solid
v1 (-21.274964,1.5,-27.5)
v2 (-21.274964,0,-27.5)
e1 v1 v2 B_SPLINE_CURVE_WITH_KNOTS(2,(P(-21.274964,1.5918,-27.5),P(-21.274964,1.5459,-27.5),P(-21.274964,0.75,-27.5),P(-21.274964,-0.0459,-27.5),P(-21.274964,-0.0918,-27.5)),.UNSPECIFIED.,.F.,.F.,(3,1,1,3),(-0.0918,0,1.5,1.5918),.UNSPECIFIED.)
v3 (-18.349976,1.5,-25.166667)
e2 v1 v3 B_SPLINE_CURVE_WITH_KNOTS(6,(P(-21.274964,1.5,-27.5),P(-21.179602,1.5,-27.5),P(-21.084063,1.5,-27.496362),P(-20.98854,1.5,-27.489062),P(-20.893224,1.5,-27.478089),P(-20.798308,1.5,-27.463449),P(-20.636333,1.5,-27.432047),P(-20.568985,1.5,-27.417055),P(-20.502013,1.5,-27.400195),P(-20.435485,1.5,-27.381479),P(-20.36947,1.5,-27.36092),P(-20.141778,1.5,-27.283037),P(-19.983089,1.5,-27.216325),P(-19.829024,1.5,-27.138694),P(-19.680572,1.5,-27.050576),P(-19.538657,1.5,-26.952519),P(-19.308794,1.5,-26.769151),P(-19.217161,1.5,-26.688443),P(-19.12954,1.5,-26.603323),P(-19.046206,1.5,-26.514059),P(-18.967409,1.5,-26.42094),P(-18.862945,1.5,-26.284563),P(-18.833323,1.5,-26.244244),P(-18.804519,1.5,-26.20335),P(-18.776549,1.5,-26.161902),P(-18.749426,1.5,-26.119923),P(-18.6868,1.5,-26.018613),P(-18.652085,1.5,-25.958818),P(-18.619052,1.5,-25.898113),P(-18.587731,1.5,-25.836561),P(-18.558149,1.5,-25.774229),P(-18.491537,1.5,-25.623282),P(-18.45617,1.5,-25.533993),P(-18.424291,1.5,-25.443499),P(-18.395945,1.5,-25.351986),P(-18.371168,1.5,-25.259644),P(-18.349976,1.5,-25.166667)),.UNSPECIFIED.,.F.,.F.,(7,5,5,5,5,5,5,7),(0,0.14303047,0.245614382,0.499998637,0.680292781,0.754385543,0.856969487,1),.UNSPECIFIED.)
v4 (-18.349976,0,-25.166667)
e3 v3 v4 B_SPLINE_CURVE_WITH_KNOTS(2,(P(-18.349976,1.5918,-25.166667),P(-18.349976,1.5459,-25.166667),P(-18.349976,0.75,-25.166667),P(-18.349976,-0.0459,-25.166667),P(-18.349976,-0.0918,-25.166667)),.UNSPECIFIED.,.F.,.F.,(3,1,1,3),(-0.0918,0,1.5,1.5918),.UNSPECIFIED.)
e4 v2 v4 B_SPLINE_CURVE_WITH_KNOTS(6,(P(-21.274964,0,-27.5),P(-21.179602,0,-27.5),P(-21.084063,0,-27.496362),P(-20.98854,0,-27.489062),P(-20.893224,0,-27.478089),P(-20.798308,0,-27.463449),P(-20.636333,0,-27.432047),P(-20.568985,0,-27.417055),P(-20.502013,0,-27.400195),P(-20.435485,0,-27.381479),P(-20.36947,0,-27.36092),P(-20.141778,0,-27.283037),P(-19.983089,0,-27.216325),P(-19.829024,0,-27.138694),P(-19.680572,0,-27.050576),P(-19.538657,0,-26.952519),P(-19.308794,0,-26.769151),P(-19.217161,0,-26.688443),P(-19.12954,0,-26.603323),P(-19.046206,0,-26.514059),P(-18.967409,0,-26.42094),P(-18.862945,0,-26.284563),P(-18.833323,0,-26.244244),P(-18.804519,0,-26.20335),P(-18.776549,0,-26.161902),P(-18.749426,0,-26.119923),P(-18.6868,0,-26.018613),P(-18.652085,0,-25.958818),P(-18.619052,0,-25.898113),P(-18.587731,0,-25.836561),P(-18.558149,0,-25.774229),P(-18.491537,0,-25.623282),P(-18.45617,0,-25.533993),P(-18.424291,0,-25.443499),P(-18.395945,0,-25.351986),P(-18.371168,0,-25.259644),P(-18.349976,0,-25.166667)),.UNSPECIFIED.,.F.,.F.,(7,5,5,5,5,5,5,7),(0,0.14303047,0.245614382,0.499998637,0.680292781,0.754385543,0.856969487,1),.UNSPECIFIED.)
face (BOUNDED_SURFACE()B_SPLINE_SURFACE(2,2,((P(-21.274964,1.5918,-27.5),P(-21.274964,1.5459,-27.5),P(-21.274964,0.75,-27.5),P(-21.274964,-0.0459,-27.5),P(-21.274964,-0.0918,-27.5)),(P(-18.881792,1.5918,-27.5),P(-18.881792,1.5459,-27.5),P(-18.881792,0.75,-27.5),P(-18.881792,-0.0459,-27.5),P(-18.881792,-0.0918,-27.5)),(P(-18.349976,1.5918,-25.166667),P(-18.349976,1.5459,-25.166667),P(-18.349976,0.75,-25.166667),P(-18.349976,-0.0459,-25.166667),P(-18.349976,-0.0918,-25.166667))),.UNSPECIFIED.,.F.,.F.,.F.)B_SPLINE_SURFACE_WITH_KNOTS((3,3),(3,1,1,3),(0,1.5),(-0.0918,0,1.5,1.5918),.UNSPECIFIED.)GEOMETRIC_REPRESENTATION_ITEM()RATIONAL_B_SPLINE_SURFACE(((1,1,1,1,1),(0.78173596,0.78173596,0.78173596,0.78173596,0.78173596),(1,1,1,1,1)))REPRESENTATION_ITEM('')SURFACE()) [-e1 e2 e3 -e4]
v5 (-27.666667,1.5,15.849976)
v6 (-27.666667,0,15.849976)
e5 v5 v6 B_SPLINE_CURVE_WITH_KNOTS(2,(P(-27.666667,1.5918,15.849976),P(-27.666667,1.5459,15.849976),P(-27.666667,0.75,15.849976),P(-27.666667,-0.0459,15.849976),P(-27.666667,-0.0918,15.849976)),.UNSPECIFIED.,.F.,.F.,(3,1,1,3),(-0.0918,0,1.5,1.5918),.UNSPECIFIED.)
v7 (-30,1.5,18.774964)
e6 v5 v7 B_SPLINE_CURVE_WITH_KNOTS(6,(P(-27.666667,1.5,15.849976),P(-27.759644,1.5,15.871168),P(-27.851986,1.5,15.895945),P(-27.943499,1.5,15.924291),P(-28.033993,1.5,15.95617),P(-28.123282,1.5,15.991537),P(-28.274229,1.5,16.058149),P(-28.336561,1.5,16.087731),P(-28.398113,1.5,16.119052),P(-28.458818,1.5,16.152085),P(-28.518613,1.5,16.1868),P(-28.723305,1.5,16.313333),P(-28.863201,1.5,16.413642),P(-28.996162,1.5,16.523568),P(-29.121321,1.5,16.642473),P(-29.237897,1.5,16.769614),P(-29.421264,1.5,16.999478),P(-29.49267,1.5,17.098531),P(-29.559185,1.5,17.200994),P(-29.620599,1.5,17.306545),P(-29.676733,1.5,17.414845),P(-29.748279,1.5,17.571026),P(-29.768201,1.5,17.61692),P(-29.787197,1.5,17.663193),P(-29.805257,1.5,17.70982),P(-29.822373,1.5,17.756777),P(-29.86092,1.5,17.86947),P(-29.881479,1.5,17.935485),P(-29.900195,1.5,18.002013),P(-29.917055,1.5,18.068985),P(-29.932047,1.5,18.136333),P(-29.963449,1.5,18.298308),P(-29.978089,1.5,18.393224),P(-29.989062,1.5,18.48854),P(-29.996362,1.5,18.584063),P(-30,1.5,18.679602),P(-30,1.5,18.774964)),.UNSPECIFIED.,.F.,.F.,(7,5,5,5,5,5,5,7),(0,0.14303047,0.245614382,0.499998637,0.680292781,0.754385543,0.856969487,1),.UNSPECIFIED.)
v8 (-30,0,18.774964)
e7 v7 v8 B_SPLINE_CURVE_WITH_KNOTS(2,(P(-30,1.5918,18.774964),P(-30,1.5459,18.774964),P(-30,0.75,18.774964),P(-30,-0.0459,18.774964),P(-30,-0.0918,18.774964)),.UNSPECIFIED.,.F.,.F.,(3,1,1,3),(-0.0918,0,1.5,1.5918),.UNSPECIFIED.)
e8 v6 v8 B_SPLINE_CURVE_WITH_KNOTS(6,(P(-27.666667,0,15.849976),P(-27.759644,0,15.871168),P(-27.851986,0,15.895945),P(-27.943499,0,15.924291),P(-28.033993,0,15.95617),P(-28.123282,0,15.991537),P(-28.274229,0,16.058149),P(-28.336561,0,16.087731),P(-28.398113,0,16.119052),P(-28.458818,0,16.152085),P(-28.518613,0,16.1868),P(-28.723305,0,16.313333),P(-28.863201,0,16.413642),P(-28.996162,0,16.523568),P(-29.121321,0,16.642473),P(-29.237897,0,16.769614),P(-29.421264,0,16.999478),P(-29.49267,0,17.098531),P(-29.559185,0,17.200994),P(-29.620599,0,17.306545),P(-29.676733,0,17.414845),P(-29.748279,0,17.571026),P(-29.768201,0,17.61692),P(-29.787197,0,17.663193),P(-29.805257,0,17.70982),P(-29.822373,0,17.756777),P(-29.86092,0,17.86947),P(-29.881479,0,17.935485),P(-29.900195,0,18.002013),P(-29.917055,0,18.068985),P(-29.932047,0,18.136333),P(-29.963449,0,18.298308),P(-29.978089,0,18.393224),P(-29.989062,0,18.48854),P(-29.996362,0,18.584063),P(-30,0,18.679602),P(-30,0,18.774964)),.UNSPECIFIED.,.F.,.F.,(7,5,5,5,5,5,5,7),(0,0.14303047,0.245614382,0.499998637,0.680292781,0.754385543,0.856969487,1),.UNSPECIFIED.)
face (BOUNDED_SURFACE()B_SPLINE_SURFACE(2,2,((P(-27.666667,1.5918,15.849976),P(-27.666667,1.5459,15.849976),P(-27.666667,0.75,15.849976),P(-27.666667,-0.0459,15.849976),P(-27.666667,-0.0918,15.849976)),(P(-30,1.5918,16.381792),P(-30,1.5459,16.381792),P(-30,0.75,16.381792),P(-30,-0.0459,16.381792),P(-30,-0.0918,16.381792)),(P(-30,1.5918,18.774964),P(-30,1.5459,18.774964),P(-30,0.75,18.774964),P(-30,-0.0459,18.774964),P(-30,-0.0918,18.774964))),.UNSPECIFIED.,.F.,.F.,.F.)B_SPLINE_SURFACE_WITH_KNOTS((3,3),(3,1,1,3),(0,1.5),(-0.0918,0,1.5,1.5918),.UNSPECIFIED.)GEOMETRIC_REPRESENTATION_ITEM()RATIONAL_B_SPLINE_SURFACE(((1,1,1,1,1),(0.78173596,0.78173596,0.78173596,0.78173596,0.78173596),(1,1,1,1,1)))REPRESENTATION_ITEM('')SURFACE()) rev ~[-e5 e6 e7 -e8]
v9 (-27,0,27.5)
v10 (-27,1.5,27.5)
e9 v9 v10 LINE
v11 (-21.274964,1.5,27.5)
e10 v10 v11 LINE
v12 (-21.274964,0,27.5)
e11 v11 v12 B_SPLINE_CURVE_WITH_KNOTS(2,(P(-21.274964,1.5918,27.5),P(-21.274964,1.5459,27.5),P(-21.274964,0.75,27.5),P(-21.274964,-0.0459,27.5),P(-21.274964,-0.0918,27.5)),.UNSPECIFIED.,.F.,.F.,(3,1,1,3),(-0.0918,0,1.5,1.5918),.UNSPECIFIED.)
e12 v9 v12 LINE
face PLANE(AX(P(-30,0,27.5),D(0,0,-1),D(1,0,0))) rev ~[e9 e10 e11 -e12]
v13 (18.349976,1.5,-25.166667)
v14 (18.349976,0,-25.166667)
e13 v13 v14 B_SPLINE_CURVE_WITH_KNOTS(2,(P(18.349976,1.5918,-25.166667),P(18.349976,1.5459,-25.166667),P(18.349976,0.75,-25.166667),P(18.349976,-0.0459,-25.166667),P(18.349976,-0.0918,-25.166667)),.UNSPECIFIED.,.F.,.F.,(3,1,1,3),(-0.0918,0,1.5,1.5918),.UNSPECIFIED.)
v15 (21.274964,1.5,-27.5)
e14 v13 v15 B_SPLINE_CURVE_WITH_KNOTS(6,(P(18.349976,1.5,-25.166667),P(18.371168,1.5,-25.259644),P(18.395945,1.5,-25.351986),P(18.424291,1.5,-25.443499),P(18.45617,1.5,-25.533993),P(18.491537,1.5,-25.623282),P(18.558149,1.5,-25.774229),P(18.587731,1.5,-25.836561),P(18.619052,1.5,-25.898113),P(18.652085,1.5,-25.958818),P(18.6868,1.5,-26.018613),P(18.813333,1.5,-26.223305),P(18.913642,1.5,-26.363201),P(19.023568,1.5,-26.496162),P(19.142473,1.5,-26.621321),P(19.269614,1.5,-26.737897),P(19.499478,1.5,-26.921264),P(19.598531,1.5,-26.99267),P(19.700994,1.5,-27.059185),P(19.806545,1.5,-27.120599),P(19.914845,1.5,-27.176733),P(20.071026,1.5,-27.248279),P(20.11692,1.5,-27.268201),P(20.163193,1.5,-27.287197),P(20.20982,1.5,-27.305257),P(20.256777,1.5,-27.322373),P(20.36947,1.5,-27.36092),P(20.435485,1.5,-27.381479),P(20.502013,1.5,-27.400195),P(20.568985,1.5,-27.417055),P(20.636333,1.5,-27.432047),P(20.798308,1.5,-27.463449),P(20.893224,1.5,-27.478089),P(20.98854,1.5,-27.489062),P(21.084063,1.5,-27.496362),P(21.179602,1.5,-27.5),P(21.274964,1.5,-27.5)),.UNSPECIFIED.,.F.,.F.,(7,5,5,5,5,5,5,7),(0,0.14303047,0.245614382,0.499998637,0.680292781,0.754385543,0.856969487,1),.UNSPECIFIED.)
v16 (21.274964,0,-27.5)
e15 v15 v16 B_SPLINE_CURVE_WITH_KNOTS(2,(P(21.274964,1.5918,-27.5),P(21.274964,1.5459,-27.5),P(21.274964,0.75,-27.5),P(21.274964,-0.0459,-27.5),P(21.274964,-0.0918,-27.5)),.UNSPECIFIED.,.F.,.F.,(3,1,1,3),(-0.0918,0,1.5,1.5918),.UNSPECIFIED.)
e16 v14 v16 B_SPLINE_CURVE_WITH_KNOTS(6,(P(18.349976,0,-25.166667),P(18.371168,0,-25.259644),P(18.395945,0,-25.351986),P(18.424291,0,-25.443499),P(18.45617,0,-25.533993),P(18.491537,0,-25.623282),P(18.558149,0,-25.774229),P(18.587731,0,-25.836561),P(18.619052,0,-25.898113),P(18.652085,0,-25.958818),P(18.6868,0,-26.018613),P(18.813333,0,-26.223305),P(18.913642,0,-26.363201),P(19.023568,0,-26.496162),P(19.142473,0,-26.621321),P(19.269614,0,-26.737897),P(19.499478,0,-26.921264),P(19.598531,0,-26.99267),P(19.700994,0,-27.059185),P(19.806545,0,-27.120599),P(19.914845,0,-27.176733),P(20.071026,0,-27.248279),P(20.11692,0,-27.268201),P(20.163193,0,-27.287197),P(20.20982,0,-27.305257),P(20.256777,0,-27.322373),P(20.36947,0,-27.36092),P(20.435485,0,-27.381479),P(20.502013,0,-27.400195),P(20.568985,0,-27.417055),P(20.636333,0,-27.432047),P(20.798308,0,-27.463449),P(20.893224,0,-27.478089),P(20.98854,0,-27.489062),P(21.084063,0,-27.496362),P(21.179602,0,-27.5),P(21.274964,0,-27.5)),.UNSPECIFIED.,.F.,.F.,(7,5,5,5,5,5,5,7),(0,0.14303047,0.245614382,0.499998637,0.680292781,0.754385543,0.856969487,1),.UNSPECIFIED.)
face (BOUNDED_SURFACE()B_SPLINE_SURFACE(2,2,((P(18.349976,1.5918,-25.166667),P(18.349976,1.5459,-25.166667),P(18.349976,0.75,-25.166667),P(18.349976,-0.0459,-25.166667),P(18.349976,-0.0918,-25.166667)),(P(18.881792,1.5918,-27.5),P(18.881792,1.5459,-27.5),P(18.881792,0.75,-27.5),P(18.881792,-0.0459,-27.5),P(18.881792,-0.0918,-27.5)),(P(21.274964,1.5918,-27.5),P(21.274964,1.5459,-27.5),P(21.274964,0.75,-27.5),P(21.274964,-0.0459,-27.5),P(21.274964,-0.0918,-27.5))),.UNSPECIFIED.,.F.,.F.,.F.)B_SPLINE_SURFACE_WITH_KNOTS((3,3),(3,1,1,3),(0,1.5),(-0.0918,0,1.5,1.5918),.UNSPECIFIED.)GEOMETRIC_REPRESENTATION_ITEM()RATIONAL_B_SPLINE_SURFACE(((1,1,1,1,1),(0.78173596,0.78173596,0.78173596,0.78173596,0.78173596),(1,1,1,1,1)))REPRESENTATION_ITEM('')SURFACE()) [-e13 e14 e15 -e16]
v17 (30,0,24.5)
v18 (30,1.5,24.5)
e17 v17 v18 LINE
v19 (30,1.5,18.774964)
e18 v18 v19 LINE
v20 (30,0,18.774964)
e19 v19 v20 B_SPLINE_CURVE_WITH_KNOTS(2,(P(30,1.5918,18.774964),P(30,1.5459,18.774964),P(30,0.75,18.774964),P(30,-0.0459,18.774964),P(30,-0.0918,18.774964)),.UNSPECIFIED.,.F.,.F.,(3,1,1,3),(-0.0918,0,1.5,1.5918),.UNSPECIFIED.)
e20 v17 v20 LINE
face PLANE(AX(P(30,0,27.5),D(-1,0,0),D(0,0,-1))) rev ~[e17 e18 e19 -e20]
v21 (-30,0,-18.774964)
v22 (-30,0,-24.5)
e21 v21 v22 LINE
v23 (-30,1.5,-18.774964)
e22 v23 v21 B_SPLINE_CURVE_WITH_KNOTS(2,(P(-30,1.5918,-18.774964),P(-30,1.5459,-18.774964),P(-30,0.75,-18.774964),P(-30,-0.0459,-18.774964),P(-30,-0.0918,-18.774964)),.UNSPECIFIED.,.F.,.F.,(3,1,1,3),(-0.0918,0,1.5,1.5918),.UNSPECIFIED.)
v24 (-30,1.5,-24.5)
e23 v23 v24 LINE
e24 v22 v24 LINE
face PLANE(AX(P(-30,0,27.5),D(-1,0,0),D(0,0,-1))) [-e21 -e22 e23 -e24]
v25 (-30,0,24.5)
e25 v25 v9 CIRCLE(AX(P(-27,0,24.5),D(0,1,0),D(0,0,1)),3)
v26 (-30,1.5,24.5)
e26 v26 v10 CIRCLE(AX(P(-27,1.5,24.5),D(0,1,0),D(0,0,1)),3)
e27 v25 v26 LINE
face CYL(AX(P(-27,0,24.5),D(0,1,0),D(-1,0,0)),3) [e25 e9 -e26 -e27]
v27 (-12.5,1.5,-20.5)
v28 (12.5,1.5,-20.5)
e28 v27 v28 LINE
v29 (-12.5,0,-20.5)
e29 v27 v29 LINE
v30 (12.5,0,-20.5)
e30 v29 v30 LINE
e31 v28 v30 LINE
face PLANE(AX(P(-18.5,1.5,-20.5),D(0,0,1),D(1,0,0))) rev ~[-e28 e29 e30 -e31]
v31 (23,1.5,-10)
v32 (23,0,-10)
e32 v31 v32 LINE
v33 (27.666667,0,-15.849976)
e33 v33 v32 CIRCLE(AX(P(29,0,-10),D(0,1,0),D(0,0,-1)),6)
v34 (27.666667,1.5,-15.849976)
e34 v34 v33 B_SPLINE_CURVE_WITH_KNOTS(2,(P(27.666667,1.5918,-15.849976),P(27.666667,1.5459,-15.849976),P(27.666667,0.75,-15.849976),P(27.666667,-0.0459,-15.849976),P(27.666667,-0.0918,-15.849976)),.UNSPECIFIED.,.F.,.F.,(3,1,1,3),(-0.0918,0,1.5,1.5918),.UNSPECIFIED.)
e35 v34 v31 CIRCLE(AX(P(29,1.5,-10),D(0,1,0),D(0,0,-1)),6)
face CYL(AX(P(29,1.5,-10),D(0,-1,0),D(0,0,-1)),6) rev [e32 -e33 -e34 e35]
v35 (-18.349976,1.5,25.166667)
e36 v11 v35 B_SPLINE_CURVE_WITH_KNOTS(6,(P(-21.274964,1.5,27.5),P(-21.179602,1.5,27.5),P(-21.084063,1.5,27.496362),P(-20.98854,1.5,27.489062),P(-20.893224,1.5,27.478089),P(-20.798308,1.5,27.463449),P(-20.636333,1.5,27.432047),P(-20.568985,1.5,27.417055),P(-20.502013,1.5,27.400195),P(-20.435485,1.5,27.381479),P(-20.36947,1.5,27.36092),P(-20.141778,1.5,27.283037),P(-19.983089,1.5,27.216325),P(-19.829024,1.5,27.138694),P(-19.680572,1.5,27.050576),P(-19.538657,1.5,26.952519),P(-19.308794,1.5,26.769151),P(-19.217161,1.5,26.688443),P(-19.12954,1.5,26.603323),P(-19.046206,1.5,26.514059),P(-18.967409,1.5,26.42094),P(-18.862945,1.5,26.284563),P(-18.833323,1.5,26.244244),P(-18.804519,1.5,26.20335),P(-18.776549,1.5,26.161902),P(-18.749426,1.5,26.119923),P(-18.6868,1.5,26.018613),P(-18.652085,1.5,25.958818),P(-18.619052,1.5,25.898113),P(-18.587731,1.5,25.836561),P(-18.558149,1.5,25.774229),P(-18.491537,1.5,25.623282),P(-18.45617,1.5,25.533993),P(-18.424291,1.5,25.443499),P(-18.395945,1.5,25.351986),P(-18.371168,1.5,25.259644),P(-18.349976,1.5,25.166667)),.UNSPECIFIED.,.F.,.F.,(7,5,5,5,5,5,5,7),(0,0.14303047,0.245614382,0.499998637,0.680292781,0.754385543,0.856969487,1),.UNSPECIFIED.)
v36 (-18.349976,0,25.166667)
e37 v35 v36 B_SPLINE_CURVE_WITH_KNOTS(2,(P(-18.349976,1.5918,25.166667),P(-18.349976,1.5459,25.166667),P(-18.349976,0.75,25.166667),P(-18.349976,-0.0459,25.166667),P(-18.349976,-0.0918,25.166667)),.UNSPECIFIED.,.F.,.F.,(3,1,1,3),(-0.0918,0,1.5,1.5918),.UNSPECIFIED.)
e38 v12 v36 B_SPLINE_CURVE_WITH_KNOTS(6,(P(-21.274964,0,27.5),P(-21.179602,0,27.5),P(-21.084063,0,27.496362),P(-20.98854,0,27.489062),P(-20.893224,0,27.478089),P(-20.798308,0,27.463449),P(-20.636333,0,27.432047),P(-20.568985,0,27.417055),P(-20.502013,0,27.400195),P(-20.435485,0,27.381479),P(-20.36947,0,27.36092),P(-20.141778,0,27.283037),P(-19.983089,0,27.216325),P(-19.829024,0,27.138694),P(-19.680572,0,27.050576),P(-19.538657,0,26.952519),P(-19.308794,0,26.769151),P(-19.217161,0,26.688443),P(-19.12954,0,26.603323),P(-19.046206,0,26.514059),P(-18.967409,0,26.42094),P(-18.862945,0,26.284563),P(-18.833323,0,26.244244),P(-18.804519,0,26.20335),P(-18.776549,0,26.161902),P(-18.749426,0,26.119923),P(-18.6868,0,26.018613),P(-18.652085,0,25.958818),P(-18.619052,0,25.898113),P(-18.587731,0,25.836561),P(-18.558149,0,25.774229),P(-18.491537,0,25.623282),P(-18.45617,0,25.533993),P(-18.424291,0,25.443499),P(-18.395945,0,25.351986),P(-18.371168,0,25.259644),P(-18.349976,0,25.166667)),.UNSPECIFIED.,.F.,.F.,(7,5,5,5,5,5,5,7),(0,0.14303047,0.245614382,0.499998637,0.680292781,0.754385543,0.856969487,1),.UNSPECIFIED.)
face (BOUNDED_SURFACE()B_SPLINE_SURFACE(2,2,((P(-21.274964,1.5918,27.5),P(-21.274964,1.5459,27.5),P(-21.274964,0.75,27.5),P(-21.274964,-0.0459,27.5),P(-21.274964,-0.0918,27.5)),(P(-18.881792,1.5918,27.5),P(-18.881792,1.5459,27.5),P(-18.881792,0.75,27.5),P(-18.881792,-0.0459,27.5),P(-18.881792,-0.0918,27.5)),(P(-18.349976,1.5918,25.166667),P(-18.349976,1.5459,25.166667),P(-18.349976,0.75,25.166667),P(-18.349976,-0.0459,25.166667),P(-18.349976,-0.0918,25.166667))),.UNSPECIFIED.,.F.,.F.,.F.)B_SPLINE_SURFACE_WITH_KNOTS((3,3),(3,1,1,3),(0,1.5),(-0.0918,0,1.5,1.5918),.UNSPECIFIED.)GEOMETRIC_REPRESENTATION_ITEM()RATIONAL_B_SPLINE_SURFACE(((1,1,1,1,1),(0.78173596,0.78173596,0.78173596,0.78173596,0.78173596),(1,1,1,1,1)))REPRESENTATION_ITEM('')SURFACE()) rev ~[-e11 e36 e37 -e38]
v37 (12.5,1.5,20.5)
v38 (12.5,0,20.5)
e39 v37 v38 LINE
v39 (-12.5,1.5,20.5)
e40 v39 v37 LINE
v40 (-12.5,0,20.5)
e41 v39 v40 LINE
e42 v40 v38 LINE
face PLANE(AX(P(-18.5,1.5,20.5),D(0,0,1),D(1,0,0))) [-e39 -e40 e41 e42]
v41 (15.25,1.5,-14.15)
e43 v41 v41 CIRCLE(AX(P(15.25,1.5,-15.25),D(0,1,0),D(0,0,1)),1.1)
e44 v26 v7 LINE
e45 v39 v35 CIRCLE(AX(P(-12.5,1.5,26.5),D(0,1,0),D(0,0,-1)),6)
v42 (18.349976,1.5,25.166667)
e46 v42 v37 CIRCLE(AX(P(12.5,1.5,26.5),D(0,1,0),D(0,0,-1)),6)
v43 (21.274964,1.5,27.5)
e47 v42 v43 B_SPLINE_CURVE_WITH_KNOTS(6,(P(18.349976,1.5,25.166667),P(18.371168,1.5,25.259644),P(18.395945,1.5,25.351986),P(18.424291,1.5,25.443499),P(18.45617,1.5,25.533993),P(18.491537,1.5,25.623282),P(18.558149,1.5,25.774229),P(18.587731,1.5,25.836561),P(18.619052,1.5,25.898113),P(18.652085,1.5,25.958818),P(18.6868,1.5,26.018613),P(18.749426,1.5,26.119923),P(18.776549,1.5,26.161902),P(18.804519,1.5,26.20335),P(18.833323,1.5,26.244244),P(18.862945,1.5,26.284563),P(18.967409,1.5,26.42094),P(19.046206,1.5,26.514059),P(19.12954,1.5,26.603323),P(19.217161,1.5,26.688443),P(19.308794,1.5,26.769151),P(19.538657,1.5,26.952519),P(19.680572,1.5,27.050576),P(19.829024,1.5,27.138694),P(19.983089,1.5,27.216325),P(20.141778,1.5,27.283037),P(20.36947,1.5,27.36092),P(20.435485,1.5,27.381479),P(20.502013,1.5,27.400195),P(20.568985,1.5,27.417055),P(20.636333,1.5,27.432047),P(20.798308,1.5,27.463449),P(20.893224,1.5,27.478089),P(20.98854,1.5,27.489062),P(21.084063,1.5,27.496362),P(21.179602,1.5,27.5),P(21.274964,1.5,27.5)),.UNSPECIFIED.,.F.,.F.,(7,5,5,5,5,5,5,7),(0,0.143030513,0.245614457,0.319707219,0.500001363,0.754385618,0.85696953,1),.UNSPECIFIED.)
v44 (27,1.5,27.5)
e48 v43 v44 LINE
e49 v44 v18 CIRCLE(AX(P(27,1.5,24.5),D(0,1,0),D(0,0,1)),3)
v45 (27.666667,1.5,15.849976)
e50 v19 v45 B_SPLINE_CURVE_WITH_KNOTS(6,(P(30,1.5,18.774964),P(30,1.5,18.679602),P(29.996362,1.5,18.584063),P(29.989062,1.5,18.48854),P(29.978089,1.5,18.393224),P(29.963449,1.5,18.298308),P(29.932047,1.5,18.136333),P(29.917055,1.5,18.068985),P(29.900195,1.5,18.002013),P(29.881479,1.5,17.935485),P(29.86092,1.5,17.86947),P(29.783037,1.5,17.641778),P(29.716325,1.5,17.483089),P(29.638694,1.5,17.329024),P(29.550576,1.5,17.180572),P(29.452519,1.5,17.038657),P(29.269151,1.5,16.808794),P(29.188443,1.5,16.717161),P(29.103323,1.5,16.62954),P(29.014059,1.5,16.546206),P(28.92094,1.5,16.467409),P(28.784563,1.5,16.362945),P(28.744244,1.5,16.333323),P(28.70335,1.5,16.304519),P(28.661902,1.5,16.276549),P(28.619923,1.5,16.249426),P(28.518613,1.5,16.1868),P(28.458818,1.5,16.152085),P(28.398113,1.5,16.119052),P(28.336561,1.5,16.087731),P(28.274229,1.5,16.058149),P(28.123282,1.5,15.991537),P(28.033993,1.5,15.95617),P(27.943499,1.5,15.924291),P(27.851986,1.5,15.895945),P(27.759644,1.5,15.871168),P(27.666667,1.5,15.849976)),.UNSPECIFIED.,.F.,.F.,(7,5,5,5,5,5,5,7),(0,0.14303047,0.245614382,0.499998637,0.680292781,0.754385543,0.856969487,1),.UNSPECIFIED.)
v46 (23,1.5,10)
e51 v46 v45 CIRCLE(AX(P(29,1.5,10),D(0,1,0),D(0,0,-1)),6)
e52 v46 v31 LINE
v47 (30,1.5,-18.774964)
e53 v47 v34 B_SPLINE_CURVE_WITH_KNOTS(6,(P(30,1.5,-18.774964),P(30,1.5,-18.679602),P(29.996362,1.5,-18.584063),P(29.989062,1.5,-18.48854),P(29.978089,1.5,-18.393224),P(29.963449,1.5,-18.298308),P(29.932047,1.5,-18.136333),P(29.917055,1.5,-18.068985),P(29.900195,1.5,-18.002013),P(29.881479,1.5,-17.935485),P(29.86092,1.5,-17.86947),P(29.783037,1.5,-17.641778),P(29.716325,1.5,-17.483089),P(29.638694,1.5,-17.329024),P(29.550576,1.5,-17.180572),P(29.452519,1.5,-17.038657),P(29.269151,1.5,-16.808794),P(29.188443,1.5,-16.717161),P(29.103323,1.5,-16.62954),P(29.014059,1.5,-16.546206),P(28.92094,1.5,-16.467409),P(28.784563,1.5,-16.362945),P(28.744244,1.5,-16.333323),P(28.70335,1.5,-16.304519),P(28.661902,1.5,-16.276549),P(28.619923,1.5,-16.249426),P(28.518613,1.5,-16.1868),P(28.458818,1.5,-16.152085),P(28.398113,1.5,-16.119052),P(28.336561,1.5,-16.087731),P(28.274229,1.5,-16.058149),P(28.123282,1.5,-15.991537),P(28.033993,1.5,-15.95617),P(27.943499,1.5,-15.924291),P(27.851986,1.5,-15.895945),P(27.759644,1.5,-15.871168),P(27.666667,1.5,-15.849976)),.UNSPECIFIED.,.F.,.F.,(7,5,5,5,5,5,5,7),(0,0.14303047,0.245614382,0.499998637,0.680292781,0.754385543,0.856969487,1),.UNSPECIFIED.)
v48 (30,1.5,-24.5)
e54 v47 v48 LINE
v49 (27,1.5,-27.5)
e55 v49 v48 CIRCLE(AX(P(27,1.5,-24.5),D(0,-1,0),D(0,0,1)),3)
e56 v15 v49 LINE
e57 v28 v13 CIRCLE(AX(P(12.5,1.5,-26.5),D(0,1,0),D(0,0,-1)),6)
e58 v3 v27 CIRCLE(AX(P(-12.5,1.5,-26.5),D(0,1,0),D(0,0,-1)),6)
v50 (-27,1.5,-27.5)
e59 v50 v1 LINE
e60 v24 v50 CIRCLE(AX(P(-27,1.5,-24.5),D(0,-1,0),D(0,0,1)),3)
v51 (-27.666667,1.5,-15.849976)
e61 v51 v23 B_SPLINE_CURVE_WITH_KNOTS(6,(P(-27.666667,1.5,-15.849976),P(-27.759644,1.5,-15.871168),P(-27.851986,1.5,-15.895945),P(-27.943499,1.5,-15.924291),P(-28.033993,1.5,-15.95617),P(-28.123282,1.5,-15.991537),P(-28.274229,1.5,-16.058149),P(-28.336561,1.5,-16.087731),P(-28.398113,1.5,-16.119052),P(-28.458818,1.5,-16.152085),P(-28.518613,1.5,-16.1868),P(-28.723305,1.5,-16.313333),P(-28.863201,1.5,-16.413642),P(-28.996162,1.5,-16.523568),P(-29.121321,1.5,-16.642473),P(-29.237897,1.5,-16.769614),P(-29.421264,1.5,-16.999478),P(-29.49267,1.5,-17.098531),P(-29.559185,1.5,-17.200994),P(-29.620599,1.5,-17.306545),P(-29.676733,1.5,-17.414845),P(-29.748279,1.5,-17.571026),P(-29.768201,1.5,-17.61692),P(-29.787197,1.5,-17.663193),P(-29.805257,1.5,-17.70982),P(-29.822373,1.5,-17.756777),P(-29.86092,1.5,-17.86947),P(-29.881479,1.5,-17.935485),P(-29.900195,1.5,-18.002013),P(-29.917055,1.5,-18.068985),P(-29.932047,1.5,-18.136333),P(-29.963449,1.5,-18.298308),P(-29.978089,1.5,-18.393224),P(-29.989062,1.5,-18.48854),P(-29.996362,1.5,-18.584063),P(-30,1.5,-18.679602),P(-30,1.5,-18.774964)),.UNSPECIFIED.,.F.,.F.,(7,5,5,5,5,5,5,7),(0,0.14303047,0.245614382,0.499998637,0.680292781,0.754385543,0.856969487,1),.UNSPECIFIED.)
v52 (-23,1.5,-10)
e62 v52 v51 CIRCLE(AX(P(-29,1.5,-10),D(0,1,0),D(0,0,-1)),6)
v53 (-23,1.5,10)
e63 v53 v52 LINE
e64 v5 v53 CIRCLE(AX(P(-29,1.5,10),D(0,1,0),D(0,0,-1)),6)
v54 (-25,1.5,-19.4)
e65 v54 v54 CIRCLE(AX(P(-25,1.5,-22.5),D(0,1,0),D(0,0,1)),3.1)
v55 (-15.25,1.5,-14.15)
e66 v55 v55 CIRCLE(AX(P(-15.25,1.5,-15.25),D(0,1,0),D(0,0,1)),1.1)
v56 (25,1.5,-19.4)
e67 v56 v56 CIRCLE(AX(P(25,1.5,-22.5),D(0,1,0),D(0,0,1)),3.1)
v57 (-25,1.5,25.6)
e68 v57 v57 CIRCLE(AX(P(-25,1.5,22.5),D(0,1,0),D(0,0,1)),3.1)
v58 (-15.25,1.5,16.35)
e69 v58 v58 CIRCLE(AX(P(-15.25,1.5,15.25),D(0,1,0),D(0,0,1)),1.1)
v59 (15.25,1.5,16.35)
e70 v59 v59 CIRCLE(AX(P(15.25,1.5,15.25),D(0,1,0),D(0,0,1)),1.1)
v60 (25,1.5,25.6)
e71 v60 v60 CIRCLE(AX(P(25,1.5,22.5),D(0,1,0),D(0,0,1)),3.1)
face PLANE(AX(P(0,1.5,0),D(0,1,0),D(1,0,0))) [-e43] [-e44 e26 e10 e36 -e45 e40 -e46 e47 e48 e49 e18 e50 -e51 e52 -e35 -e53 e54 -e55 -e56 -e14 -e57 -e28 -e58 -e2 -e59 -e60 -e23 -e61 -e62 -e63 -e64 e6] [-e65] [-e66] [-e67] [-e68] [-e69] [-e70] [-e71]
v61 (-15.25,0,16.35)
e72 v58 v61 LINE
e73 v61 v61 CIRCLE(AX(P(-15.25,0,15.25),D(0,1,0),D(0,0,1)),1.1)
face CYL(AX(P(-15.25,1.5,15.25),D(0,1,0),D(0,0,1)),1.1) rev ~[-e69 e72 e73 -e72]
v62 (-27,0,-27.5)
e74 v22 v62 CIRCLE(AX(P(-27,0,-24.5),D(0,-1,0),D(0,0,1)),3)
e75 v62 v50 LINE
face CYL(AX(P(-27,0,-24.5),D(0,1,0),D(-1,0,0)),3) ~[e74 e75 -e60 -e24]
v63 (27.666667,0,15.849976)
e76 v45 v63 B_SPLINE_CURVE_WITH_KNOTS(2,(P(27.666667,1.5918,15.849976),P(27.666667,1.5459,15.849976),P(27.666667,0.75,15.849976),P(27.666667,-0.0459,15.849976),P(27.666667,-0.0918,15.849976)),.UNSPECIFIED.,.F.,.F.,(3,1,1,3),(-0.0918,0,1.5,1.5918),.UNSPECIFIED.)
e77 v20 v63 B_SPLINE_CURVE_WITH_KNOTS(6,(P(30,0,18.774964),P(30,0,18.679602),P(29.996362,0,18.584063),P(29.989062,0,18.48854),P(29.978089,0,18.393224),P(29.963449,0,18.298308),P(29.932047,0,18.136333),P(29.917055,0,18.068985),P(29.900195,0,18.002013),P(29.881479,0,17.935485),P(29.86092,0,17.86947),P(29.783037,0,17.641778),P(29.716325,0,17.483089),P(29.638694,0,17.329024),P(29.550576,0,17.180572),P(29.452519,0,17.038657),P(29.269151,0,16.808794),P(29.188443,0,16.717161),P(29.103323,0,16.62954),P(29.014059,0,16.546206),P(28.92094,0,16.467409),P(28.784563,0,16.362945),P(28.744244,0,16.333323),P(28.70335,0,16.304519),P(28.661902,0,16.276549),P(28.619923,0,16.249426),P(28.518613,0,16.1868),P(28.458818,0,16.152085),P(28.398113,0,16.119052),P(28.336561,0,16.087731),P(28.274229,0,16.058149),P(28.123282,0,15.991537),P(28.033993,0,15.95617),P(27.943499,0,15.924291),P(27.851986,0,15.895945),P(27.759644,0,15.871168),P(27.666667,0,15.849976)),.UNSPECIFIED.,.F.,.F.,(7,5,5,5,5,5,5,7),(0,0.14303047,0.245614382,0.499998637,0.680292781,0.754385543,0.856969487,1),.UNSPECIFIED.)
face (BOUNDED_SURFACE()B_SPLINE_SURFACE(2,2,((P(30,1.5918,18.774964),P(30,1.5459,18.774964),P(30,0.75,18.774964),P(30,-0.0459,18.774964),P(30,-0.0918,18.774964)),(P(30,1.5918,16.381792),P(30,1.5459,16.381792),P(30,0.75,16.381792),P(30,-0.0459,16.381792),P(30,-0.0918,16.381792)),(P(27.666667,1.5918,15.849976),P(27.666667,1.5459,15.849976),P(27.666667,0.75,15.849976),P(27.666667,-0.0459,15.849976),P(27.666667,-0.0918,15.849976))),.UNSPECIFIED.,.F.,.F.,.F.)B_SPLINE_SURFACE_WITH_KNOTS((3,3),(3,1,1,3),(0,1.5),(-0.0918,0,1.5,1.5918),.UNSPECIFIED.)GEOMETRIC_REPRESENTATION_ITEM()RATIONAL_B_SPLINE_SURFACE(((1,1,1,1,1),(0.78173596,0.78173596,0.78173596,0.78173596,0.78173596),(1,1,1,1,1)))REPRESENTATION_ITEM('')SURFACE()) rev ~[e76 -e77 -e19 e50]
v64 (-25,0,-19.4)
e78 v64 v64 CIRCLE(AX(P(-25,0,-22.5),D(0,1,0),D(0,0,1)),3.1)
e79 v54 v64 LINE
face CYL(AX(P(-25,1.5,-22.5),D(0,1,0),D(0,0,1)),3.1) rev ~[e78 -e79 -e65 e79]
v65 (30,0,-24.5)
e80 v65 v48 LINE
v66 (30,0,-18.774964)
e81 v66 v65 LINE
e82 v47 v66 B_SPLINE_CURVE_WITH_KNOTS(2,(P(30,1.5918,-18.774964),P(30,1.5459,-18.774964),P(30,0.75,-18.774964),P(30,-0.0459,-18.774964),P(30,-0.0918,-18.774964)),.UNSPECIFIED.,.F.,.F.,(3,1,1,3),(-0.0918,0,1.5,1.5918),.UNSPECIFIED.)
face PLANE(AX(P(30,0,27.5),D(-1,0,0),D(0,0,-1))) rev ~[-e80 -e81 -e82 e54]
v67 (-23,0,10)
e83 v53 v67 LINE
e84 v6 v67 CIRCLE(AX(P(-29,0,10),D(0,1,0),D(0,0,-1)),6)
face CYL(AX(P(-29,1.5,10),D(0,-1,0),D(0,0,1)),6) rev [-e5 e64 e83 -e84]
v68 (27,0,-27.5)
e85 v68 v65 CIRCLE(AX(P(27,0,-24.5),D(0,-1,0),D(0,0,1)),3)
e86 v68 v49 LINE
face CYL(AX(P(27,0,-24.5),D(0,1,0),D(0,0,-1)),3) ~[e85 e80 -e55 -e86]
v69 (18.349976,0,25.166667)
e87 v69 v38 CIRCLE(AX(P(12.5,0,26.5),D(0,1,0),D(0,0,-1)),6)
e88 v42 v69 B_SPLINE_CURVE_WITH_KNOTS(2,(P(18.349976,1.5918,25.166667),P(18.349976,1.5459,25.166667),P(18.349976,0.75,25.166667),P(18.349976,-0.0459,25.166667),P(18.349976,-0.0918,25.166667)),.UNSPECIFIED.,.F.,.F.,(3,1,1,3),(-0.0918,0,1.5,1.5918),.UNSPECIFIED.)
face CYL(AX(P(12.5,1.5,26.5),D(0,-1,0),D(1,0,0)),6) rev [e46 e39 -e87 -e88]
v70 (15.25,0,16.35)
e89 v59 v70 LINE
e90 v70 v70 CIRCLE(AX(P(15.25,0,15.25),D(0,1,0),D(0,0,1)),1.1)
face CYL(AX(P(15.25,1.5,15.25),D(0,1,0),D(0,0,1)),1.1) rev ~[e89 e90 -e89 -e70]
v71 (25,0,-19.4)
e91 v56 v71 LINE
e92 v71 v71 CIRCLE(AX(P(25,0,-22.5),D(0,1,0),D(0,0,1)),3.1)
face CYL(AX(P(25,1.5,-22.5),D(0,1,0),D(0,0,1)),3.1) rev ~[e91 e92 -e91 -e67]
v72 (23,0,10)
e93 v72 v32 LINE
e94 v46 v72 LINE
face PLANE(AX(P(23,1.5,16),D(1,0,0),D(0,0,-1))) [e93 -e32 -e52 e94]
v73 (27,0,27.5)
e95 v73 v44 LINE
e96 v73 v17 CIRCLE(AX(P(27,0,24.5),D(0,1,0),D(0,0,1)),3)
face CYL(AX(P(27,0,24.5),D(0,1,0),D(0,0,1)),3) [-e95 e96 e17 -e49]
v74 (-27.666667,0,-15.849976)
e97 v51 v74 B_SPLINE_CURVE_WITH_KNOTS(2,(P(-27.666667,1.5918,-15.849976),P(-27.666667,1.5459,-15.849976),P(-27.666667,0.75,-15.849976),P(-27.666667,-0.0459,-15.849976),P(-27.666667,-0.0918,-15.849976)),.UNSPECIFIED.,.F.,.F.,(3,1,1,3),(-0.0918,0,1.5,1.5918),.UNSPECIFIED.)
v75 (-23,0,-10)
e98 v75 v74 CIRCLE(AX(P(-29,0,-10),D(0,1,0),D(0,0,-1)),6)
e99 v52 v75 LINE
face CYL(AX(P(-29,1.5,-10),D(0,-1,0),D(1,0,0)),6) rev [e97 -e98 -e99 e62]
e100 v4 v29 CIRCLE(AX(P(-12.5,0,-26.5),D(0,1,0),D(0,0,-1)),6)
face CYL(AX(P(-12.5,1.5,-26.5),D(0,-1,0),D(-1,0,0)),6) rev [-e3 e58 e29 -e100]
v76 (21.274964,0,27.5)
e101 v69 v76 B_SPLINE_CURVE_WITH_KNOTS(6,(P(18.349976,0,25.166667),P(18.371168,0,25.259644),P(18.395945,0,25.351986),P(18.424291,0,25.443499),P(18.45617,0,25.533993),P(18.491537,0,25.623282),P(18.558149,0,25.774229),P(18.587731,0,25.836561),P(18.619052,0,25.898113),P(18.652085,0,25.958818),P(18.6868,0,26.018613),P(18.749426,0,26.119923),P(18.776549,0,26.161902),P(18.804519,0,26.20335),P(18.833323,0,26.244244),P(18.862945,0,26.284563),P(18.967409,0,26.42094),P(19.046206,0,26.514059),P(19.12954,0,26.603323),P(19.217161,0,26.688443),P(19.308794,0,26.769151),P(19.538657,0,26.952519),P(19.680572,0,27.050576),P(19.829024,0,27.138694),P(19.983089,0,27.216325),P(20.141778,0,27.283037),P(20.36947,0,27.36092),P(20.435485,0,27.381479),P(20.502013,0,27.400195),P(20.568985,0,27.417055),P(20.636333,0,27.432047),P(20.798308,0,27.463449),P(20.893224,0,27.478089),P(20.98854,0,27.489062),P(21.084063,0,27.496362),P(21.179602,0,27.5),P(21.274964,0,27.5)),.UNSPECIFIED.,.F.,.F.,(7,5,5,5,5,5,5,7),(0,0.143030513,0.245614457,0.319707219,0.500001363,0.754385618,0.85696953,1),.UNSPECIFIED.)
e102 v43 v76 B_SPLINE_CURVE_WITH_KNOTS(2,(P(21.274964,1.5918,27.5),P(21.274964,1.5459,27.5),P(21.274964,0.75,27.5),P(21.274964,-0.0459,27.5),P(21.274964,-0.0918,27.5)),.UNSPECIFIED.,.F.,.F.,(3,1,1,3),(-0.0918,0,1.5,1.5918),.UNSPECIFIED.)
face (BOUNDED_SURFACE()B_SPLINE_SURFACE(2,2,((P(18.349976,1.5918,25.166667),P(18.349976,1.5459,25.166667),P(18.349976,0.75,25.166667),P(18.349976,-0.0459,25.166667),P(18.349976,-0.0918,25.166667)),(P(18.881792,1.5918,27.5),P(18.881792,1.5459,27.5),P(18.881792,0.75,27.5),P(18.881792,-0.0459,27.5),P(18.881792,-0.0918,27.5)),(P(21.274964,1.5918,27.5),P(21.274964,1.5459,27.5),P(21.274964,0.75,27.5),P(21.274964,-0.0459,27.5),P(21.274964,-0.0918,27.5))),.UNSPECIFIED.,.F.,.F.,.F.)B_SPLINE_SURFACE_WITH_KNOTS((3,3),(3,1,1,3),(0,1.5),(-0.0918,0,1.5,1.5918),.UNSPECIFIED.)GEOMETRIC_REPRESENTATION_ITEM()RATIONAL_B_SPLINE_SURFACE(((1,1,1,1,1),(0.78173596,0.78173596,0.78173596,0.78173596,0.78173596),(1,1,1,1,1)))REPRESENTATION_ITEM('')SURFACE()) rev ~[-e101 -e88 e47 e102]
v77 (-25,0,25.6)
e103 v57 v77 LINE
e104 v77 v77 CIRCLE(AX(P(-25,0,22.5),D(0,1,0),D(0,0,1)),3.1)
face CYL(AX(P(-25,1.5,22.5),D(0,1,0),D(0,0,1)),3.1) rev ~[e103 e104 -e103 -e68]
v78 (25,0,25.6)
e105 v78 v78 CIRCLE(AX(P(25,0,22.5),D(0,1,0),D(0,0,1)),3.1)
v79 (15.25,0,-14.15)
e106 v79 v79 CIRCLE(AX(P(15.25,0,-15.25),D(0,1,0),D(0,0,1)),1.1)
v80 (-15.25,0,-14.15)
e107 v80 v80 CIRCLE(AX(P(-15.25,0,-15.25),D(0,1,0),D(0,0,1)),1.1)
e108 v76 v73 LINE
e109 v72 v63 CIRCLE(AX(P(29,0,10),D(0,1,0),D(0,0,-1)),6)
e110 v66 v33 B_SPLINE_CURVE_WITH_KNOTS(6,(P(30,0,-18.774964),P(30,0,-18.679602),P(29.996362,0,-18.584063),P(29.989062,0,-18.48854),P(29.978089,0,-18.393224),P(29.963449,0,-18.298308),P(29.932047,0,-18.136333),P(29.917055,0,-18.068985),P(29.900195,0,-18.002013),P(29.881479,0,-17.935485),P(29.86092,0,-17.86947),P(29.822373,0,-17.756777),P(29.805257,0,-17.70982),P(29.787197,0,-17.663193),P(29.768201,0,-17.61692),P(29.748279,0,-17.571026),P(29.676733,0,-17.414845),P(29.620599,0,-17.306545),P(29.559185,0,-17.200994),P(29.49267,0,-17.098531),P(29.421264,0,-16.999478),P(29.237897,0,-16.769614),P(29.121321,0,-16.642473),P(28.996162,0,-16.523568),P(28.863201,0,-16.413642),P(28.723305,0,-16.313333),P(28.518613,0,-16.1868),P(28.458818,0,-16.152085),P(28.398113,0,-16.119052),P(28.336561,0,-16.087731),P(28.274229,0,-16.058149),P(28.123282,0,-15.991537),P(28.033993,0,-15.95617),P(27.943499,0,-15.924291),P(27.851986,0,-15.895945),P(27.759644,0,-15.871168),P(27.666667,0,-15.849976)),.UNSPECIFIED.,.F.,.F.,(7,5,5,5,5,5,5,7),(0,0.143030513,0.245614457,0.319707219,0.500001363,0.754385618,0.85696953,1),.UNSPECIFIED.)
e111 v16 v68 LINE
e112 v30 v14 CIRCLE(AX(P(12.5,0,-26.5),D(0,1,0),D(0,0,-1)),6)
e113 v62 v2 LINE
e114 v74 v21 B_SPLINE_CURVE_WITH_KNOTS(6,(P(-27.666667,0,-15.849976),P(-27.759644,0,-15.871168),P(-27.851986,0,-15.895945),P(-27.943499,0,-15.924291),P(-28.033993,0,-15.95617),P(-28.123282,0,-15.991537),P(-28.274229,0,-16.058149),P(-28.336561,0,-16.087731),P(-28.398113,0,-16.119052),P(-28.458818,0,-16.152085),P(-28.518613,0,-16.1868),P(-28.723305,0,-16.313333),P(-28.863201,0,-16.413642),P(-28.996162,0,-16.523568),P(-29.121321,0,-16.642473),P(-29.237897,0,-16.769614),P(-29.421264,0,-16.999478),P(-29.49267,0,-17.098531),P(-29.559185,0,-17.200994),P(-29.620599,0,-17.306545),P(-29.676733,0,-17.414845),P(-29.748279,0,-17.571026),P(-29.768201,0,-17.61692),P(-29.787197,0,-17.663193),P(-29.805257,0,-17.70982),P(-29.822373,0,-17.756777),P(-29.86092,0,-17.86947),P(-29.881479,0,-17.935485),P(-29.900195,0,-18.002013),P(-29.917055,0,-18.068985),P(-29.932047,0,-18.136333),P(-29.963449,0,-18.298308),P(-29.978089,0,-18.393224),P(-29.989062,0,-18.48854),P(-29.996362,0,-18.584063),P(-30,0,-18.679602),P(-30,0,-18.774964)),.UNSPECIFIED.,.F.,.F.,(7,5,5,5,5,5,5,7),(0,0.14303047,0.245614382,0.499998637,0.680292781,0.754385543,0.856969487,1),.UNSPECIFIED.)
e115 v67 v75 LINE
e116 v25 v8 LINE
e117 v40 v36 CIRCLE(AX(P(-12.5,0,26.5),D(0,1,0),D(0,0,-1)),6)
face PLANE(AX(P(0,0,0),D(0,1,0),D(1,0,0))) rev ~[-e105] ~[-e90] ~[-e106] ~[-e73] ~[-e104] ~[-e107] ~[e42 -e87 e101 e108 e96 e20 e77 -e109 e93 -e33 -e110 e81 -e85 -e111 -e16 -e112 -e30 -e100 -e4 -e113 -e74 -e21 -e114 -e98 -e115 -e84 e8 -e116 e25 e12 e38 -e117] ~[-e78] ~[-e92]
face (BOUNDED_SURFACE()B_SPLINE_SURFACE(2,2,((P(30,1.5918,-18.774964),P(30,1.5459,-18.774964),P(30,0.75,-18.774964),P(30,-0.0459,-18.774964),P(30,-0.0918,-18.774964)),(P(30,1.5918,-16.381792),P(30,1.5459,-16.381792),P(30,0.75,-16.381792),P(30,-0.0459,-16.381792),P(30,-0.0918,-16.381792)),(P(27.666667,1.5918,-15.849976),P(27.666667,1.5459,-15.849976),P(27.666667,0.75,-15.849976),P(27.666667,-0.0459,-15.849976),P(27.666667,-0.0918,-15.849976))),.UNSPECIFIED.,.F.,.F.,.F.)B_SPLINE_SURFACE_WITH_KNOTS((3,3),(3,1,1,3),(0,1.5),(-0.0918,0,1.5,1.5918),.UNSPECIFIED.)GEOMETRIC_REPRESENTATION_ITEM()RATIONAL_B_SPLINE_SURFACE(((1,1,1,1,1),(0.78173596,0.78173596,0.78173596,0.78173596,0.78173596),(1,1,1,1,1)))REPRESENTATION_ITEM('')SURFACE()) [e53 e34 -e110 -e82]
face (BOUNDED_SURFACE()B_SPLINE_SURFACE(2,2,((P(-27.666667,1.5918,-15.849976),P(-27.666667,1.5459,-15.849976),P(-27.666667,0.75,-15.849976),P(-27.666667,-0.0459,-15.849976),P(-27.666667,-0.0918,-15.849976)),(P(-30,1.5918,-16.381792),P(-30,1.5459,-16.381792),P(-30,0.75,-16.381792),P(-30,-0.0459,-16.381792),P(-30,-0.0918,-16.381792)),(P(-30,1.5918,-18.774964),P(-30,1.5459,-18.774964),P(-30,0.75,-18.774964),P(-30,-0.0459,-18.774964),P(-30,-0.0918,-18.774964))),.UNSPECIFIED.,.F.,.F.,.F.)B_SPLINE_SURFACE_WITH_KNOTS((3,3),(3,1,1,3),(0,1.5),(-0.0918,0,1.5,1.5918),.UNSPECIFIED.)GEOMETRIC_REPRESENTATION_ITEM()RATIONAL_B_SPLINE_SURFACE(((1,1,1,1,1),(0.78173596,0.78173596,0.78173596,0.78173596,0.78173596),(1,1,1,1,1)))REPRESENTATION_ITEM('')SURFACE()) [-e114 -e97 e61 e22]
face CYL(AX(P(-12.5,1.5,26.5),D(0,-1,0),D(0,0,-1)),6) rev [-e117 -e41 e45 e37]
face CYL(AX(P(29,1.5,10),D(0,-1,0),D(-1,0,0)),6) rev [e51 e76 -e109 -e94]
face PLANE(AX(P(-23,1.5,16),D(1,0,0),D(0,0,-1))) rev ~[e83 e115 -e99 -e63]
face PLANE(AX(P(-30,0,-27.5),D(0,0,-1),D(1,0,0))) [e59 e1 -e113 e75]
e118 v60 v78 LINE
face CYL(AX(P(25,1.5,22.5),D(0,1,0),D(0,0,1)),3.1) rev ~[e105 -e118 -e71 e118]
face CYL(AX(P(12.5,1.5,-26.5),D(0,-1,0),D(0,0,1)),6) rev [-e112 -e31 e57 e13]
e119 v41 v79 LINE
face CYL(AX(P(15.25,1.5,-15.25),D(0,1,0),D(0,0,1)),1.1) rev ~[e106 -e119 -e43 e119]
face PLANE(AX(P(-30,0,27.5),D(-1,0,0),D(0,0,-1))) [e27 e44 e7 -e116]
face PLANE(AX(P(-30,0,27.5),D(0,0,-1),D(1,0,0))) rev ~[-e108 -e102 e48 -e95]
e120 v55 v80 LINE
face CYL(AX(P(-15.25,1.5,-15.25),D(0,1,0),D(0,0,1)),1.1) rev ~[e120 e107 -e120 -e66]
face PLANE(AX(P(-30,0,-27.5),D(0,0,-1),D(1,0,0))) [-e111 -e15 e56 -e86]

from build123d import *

# Parameters (mm, degrees)
SKETCH1_W           = 60
SKETCH1_H           = 55
BOSS_EXTRUDE1_DEPTH = 1.5
SKETCH2_R           = 3.1
CUT_EXTRUDE1_DEPTH  = 41.724685389
FILLET1_R           = 3
SKETCH4_W           = 37
SKETCH4_H           = 7
SKETCH4_W_2         = 7
SKETCH4_H_2         = 32
CUT_EXTRUDE2_DEPTH  = 41.724685389
FILLET2_R           = 6
FILLET3_R           = 3
SKETCH5_R           = 1.1
CUT_EXTRUDE3_DEPTH  = 41.724685533


with BuildPart() as part:
    # Sketch1 → Boss-Extrude1 (new body)
    with BuildSketch(Plane(origin=(0, 0, 0), x_dir=(1, 0, 0), z_dir=(0, 1, 0))):
        Rectangle(SKETCH1_W, SKETCH1_H)
    extrude(amount=BOSS_EXTRUDE1_DEPTH)

    # Sketch2 → Cut-Extrude1 (cut, through all)
    with BuildSketch(Plane(origin=(0, 1.5, 0), x_dir=(1, 0, 0), z_dir=(0, 1, 0))):
        with Locations(Location((-25, 22.5, 0), (0, 0, 270))):
            Circle(SKETCH2_R)
        with Locations(Location((25, 22.5, 0), (0, 0, 270))):
            Circle(SKETCH2_R)
        with Locations(Location((-25, -22.5, 0), (0, 0, 270))):
            Circle(SKETCH2_R)
        with Locations(Location((25, -22.5, 0), (0, 0, 270))):
            Circle(SKETCH2_R)
    extrude(amount=-CUT_EXTRUDE1_DEPTH, mode=Mode.SUBTRACT)

    # Fillet1
    fillet1_edges = [part.edges().sort_by_distance(p)[0] for p in [
        (-30, 0.75, -27.5),
        (30, 0.75, -27.5),
        (30, 0.75, 27.5),
        (-30, 0.75, 27.5),
    ]]
    fillet(fillet1_edges, radius=FILLET1_R)

    # Sketch4 → Cut-Extrude2 (cut, through all)
    with BuildSketch(Plane(origin=(0, 1.5, 0), x_dir=(1, 0, 0), z_dir=(0, 1, 0))):
        with Locations((0, 24)):
            Rectangle(SKETCH4_W, SKETCH4_H)
        with Locations((-26.5, 0)):
            Rectangle(SKETCH4_W_2, SKETCH4_H_2)
        with Locations((0, -24)):
            Rectangle(SKETCH4_W, SKETCH4_H)
        with Locations((26.5, 0)):
            Rectangle(SKETCH4_W_2, SKETCH4_H_2)
    extrude(amount=-CUT_EXTRUDE2_DEPTH, mode=Mode.SUBTRACT)

    # Fillet2
    fillet2_edges = [part.edges().sort_by_distance(p)[0] for p in [
        (-18.5, 0.75, -20.5),
        (18.5, 0.75, -20.5),
        (-23, 0.75, -16),
        (-23, 0.75, 16),
        (-18.5, 0.75, 20.5),
        (18.5, 0.75, 20.5),
        (23, 0.75, -16),
        (23, 0.75, 16),
    ]]
    fillet(fillet2_edges, radius=FILLET2_R)

    # Fillet3
    fillet3_edges = [part.edges().sort_by_distance(p)[0] for p in [
        (30, 0.75, -16),
        (18.5, 0.75, -27.5),
        (30, 0.75, 16),
        (18.5, 0.75, 27.5),
        (-18.5, 0.75, 27.5),
        (-30, 0.75, 16),
        (-18.5, 0.75, -27.5),
        (-30, 0.75, -16),
    ]]
    fillet(fillet3_edges, radius=FILLET3_R)

    # Sketch5 → Cut-Extrude3 (cut, through all)
    with BuildSketch(Plane(origin=(0, 1.5, 0), x_dir=(1, 0, 0), z_dir=(0, 1, 0))):
        with Locations(Location((-15.25, 15.25, 0), (0, 0, 270))):
            Circle(SKETCH5_R)
        with Locations(Location((15.25, 15.25, 0), (0, 0, 270))):
            Circle(SKETCH5_R)
        with Locations(Location((-15.25, -15.25, 0), (0, 0, 270))):
            Circle(SKETCH5_R)
        with Locations(Location((15.25, -15.25, 0), (0, 0, 270))):
            Circle(SKETCH5_R)
    extrude(amount=-CUT_EXTRUDE3_DEPTH, mode=Mode.SUBTRACT)


solid = part.part
